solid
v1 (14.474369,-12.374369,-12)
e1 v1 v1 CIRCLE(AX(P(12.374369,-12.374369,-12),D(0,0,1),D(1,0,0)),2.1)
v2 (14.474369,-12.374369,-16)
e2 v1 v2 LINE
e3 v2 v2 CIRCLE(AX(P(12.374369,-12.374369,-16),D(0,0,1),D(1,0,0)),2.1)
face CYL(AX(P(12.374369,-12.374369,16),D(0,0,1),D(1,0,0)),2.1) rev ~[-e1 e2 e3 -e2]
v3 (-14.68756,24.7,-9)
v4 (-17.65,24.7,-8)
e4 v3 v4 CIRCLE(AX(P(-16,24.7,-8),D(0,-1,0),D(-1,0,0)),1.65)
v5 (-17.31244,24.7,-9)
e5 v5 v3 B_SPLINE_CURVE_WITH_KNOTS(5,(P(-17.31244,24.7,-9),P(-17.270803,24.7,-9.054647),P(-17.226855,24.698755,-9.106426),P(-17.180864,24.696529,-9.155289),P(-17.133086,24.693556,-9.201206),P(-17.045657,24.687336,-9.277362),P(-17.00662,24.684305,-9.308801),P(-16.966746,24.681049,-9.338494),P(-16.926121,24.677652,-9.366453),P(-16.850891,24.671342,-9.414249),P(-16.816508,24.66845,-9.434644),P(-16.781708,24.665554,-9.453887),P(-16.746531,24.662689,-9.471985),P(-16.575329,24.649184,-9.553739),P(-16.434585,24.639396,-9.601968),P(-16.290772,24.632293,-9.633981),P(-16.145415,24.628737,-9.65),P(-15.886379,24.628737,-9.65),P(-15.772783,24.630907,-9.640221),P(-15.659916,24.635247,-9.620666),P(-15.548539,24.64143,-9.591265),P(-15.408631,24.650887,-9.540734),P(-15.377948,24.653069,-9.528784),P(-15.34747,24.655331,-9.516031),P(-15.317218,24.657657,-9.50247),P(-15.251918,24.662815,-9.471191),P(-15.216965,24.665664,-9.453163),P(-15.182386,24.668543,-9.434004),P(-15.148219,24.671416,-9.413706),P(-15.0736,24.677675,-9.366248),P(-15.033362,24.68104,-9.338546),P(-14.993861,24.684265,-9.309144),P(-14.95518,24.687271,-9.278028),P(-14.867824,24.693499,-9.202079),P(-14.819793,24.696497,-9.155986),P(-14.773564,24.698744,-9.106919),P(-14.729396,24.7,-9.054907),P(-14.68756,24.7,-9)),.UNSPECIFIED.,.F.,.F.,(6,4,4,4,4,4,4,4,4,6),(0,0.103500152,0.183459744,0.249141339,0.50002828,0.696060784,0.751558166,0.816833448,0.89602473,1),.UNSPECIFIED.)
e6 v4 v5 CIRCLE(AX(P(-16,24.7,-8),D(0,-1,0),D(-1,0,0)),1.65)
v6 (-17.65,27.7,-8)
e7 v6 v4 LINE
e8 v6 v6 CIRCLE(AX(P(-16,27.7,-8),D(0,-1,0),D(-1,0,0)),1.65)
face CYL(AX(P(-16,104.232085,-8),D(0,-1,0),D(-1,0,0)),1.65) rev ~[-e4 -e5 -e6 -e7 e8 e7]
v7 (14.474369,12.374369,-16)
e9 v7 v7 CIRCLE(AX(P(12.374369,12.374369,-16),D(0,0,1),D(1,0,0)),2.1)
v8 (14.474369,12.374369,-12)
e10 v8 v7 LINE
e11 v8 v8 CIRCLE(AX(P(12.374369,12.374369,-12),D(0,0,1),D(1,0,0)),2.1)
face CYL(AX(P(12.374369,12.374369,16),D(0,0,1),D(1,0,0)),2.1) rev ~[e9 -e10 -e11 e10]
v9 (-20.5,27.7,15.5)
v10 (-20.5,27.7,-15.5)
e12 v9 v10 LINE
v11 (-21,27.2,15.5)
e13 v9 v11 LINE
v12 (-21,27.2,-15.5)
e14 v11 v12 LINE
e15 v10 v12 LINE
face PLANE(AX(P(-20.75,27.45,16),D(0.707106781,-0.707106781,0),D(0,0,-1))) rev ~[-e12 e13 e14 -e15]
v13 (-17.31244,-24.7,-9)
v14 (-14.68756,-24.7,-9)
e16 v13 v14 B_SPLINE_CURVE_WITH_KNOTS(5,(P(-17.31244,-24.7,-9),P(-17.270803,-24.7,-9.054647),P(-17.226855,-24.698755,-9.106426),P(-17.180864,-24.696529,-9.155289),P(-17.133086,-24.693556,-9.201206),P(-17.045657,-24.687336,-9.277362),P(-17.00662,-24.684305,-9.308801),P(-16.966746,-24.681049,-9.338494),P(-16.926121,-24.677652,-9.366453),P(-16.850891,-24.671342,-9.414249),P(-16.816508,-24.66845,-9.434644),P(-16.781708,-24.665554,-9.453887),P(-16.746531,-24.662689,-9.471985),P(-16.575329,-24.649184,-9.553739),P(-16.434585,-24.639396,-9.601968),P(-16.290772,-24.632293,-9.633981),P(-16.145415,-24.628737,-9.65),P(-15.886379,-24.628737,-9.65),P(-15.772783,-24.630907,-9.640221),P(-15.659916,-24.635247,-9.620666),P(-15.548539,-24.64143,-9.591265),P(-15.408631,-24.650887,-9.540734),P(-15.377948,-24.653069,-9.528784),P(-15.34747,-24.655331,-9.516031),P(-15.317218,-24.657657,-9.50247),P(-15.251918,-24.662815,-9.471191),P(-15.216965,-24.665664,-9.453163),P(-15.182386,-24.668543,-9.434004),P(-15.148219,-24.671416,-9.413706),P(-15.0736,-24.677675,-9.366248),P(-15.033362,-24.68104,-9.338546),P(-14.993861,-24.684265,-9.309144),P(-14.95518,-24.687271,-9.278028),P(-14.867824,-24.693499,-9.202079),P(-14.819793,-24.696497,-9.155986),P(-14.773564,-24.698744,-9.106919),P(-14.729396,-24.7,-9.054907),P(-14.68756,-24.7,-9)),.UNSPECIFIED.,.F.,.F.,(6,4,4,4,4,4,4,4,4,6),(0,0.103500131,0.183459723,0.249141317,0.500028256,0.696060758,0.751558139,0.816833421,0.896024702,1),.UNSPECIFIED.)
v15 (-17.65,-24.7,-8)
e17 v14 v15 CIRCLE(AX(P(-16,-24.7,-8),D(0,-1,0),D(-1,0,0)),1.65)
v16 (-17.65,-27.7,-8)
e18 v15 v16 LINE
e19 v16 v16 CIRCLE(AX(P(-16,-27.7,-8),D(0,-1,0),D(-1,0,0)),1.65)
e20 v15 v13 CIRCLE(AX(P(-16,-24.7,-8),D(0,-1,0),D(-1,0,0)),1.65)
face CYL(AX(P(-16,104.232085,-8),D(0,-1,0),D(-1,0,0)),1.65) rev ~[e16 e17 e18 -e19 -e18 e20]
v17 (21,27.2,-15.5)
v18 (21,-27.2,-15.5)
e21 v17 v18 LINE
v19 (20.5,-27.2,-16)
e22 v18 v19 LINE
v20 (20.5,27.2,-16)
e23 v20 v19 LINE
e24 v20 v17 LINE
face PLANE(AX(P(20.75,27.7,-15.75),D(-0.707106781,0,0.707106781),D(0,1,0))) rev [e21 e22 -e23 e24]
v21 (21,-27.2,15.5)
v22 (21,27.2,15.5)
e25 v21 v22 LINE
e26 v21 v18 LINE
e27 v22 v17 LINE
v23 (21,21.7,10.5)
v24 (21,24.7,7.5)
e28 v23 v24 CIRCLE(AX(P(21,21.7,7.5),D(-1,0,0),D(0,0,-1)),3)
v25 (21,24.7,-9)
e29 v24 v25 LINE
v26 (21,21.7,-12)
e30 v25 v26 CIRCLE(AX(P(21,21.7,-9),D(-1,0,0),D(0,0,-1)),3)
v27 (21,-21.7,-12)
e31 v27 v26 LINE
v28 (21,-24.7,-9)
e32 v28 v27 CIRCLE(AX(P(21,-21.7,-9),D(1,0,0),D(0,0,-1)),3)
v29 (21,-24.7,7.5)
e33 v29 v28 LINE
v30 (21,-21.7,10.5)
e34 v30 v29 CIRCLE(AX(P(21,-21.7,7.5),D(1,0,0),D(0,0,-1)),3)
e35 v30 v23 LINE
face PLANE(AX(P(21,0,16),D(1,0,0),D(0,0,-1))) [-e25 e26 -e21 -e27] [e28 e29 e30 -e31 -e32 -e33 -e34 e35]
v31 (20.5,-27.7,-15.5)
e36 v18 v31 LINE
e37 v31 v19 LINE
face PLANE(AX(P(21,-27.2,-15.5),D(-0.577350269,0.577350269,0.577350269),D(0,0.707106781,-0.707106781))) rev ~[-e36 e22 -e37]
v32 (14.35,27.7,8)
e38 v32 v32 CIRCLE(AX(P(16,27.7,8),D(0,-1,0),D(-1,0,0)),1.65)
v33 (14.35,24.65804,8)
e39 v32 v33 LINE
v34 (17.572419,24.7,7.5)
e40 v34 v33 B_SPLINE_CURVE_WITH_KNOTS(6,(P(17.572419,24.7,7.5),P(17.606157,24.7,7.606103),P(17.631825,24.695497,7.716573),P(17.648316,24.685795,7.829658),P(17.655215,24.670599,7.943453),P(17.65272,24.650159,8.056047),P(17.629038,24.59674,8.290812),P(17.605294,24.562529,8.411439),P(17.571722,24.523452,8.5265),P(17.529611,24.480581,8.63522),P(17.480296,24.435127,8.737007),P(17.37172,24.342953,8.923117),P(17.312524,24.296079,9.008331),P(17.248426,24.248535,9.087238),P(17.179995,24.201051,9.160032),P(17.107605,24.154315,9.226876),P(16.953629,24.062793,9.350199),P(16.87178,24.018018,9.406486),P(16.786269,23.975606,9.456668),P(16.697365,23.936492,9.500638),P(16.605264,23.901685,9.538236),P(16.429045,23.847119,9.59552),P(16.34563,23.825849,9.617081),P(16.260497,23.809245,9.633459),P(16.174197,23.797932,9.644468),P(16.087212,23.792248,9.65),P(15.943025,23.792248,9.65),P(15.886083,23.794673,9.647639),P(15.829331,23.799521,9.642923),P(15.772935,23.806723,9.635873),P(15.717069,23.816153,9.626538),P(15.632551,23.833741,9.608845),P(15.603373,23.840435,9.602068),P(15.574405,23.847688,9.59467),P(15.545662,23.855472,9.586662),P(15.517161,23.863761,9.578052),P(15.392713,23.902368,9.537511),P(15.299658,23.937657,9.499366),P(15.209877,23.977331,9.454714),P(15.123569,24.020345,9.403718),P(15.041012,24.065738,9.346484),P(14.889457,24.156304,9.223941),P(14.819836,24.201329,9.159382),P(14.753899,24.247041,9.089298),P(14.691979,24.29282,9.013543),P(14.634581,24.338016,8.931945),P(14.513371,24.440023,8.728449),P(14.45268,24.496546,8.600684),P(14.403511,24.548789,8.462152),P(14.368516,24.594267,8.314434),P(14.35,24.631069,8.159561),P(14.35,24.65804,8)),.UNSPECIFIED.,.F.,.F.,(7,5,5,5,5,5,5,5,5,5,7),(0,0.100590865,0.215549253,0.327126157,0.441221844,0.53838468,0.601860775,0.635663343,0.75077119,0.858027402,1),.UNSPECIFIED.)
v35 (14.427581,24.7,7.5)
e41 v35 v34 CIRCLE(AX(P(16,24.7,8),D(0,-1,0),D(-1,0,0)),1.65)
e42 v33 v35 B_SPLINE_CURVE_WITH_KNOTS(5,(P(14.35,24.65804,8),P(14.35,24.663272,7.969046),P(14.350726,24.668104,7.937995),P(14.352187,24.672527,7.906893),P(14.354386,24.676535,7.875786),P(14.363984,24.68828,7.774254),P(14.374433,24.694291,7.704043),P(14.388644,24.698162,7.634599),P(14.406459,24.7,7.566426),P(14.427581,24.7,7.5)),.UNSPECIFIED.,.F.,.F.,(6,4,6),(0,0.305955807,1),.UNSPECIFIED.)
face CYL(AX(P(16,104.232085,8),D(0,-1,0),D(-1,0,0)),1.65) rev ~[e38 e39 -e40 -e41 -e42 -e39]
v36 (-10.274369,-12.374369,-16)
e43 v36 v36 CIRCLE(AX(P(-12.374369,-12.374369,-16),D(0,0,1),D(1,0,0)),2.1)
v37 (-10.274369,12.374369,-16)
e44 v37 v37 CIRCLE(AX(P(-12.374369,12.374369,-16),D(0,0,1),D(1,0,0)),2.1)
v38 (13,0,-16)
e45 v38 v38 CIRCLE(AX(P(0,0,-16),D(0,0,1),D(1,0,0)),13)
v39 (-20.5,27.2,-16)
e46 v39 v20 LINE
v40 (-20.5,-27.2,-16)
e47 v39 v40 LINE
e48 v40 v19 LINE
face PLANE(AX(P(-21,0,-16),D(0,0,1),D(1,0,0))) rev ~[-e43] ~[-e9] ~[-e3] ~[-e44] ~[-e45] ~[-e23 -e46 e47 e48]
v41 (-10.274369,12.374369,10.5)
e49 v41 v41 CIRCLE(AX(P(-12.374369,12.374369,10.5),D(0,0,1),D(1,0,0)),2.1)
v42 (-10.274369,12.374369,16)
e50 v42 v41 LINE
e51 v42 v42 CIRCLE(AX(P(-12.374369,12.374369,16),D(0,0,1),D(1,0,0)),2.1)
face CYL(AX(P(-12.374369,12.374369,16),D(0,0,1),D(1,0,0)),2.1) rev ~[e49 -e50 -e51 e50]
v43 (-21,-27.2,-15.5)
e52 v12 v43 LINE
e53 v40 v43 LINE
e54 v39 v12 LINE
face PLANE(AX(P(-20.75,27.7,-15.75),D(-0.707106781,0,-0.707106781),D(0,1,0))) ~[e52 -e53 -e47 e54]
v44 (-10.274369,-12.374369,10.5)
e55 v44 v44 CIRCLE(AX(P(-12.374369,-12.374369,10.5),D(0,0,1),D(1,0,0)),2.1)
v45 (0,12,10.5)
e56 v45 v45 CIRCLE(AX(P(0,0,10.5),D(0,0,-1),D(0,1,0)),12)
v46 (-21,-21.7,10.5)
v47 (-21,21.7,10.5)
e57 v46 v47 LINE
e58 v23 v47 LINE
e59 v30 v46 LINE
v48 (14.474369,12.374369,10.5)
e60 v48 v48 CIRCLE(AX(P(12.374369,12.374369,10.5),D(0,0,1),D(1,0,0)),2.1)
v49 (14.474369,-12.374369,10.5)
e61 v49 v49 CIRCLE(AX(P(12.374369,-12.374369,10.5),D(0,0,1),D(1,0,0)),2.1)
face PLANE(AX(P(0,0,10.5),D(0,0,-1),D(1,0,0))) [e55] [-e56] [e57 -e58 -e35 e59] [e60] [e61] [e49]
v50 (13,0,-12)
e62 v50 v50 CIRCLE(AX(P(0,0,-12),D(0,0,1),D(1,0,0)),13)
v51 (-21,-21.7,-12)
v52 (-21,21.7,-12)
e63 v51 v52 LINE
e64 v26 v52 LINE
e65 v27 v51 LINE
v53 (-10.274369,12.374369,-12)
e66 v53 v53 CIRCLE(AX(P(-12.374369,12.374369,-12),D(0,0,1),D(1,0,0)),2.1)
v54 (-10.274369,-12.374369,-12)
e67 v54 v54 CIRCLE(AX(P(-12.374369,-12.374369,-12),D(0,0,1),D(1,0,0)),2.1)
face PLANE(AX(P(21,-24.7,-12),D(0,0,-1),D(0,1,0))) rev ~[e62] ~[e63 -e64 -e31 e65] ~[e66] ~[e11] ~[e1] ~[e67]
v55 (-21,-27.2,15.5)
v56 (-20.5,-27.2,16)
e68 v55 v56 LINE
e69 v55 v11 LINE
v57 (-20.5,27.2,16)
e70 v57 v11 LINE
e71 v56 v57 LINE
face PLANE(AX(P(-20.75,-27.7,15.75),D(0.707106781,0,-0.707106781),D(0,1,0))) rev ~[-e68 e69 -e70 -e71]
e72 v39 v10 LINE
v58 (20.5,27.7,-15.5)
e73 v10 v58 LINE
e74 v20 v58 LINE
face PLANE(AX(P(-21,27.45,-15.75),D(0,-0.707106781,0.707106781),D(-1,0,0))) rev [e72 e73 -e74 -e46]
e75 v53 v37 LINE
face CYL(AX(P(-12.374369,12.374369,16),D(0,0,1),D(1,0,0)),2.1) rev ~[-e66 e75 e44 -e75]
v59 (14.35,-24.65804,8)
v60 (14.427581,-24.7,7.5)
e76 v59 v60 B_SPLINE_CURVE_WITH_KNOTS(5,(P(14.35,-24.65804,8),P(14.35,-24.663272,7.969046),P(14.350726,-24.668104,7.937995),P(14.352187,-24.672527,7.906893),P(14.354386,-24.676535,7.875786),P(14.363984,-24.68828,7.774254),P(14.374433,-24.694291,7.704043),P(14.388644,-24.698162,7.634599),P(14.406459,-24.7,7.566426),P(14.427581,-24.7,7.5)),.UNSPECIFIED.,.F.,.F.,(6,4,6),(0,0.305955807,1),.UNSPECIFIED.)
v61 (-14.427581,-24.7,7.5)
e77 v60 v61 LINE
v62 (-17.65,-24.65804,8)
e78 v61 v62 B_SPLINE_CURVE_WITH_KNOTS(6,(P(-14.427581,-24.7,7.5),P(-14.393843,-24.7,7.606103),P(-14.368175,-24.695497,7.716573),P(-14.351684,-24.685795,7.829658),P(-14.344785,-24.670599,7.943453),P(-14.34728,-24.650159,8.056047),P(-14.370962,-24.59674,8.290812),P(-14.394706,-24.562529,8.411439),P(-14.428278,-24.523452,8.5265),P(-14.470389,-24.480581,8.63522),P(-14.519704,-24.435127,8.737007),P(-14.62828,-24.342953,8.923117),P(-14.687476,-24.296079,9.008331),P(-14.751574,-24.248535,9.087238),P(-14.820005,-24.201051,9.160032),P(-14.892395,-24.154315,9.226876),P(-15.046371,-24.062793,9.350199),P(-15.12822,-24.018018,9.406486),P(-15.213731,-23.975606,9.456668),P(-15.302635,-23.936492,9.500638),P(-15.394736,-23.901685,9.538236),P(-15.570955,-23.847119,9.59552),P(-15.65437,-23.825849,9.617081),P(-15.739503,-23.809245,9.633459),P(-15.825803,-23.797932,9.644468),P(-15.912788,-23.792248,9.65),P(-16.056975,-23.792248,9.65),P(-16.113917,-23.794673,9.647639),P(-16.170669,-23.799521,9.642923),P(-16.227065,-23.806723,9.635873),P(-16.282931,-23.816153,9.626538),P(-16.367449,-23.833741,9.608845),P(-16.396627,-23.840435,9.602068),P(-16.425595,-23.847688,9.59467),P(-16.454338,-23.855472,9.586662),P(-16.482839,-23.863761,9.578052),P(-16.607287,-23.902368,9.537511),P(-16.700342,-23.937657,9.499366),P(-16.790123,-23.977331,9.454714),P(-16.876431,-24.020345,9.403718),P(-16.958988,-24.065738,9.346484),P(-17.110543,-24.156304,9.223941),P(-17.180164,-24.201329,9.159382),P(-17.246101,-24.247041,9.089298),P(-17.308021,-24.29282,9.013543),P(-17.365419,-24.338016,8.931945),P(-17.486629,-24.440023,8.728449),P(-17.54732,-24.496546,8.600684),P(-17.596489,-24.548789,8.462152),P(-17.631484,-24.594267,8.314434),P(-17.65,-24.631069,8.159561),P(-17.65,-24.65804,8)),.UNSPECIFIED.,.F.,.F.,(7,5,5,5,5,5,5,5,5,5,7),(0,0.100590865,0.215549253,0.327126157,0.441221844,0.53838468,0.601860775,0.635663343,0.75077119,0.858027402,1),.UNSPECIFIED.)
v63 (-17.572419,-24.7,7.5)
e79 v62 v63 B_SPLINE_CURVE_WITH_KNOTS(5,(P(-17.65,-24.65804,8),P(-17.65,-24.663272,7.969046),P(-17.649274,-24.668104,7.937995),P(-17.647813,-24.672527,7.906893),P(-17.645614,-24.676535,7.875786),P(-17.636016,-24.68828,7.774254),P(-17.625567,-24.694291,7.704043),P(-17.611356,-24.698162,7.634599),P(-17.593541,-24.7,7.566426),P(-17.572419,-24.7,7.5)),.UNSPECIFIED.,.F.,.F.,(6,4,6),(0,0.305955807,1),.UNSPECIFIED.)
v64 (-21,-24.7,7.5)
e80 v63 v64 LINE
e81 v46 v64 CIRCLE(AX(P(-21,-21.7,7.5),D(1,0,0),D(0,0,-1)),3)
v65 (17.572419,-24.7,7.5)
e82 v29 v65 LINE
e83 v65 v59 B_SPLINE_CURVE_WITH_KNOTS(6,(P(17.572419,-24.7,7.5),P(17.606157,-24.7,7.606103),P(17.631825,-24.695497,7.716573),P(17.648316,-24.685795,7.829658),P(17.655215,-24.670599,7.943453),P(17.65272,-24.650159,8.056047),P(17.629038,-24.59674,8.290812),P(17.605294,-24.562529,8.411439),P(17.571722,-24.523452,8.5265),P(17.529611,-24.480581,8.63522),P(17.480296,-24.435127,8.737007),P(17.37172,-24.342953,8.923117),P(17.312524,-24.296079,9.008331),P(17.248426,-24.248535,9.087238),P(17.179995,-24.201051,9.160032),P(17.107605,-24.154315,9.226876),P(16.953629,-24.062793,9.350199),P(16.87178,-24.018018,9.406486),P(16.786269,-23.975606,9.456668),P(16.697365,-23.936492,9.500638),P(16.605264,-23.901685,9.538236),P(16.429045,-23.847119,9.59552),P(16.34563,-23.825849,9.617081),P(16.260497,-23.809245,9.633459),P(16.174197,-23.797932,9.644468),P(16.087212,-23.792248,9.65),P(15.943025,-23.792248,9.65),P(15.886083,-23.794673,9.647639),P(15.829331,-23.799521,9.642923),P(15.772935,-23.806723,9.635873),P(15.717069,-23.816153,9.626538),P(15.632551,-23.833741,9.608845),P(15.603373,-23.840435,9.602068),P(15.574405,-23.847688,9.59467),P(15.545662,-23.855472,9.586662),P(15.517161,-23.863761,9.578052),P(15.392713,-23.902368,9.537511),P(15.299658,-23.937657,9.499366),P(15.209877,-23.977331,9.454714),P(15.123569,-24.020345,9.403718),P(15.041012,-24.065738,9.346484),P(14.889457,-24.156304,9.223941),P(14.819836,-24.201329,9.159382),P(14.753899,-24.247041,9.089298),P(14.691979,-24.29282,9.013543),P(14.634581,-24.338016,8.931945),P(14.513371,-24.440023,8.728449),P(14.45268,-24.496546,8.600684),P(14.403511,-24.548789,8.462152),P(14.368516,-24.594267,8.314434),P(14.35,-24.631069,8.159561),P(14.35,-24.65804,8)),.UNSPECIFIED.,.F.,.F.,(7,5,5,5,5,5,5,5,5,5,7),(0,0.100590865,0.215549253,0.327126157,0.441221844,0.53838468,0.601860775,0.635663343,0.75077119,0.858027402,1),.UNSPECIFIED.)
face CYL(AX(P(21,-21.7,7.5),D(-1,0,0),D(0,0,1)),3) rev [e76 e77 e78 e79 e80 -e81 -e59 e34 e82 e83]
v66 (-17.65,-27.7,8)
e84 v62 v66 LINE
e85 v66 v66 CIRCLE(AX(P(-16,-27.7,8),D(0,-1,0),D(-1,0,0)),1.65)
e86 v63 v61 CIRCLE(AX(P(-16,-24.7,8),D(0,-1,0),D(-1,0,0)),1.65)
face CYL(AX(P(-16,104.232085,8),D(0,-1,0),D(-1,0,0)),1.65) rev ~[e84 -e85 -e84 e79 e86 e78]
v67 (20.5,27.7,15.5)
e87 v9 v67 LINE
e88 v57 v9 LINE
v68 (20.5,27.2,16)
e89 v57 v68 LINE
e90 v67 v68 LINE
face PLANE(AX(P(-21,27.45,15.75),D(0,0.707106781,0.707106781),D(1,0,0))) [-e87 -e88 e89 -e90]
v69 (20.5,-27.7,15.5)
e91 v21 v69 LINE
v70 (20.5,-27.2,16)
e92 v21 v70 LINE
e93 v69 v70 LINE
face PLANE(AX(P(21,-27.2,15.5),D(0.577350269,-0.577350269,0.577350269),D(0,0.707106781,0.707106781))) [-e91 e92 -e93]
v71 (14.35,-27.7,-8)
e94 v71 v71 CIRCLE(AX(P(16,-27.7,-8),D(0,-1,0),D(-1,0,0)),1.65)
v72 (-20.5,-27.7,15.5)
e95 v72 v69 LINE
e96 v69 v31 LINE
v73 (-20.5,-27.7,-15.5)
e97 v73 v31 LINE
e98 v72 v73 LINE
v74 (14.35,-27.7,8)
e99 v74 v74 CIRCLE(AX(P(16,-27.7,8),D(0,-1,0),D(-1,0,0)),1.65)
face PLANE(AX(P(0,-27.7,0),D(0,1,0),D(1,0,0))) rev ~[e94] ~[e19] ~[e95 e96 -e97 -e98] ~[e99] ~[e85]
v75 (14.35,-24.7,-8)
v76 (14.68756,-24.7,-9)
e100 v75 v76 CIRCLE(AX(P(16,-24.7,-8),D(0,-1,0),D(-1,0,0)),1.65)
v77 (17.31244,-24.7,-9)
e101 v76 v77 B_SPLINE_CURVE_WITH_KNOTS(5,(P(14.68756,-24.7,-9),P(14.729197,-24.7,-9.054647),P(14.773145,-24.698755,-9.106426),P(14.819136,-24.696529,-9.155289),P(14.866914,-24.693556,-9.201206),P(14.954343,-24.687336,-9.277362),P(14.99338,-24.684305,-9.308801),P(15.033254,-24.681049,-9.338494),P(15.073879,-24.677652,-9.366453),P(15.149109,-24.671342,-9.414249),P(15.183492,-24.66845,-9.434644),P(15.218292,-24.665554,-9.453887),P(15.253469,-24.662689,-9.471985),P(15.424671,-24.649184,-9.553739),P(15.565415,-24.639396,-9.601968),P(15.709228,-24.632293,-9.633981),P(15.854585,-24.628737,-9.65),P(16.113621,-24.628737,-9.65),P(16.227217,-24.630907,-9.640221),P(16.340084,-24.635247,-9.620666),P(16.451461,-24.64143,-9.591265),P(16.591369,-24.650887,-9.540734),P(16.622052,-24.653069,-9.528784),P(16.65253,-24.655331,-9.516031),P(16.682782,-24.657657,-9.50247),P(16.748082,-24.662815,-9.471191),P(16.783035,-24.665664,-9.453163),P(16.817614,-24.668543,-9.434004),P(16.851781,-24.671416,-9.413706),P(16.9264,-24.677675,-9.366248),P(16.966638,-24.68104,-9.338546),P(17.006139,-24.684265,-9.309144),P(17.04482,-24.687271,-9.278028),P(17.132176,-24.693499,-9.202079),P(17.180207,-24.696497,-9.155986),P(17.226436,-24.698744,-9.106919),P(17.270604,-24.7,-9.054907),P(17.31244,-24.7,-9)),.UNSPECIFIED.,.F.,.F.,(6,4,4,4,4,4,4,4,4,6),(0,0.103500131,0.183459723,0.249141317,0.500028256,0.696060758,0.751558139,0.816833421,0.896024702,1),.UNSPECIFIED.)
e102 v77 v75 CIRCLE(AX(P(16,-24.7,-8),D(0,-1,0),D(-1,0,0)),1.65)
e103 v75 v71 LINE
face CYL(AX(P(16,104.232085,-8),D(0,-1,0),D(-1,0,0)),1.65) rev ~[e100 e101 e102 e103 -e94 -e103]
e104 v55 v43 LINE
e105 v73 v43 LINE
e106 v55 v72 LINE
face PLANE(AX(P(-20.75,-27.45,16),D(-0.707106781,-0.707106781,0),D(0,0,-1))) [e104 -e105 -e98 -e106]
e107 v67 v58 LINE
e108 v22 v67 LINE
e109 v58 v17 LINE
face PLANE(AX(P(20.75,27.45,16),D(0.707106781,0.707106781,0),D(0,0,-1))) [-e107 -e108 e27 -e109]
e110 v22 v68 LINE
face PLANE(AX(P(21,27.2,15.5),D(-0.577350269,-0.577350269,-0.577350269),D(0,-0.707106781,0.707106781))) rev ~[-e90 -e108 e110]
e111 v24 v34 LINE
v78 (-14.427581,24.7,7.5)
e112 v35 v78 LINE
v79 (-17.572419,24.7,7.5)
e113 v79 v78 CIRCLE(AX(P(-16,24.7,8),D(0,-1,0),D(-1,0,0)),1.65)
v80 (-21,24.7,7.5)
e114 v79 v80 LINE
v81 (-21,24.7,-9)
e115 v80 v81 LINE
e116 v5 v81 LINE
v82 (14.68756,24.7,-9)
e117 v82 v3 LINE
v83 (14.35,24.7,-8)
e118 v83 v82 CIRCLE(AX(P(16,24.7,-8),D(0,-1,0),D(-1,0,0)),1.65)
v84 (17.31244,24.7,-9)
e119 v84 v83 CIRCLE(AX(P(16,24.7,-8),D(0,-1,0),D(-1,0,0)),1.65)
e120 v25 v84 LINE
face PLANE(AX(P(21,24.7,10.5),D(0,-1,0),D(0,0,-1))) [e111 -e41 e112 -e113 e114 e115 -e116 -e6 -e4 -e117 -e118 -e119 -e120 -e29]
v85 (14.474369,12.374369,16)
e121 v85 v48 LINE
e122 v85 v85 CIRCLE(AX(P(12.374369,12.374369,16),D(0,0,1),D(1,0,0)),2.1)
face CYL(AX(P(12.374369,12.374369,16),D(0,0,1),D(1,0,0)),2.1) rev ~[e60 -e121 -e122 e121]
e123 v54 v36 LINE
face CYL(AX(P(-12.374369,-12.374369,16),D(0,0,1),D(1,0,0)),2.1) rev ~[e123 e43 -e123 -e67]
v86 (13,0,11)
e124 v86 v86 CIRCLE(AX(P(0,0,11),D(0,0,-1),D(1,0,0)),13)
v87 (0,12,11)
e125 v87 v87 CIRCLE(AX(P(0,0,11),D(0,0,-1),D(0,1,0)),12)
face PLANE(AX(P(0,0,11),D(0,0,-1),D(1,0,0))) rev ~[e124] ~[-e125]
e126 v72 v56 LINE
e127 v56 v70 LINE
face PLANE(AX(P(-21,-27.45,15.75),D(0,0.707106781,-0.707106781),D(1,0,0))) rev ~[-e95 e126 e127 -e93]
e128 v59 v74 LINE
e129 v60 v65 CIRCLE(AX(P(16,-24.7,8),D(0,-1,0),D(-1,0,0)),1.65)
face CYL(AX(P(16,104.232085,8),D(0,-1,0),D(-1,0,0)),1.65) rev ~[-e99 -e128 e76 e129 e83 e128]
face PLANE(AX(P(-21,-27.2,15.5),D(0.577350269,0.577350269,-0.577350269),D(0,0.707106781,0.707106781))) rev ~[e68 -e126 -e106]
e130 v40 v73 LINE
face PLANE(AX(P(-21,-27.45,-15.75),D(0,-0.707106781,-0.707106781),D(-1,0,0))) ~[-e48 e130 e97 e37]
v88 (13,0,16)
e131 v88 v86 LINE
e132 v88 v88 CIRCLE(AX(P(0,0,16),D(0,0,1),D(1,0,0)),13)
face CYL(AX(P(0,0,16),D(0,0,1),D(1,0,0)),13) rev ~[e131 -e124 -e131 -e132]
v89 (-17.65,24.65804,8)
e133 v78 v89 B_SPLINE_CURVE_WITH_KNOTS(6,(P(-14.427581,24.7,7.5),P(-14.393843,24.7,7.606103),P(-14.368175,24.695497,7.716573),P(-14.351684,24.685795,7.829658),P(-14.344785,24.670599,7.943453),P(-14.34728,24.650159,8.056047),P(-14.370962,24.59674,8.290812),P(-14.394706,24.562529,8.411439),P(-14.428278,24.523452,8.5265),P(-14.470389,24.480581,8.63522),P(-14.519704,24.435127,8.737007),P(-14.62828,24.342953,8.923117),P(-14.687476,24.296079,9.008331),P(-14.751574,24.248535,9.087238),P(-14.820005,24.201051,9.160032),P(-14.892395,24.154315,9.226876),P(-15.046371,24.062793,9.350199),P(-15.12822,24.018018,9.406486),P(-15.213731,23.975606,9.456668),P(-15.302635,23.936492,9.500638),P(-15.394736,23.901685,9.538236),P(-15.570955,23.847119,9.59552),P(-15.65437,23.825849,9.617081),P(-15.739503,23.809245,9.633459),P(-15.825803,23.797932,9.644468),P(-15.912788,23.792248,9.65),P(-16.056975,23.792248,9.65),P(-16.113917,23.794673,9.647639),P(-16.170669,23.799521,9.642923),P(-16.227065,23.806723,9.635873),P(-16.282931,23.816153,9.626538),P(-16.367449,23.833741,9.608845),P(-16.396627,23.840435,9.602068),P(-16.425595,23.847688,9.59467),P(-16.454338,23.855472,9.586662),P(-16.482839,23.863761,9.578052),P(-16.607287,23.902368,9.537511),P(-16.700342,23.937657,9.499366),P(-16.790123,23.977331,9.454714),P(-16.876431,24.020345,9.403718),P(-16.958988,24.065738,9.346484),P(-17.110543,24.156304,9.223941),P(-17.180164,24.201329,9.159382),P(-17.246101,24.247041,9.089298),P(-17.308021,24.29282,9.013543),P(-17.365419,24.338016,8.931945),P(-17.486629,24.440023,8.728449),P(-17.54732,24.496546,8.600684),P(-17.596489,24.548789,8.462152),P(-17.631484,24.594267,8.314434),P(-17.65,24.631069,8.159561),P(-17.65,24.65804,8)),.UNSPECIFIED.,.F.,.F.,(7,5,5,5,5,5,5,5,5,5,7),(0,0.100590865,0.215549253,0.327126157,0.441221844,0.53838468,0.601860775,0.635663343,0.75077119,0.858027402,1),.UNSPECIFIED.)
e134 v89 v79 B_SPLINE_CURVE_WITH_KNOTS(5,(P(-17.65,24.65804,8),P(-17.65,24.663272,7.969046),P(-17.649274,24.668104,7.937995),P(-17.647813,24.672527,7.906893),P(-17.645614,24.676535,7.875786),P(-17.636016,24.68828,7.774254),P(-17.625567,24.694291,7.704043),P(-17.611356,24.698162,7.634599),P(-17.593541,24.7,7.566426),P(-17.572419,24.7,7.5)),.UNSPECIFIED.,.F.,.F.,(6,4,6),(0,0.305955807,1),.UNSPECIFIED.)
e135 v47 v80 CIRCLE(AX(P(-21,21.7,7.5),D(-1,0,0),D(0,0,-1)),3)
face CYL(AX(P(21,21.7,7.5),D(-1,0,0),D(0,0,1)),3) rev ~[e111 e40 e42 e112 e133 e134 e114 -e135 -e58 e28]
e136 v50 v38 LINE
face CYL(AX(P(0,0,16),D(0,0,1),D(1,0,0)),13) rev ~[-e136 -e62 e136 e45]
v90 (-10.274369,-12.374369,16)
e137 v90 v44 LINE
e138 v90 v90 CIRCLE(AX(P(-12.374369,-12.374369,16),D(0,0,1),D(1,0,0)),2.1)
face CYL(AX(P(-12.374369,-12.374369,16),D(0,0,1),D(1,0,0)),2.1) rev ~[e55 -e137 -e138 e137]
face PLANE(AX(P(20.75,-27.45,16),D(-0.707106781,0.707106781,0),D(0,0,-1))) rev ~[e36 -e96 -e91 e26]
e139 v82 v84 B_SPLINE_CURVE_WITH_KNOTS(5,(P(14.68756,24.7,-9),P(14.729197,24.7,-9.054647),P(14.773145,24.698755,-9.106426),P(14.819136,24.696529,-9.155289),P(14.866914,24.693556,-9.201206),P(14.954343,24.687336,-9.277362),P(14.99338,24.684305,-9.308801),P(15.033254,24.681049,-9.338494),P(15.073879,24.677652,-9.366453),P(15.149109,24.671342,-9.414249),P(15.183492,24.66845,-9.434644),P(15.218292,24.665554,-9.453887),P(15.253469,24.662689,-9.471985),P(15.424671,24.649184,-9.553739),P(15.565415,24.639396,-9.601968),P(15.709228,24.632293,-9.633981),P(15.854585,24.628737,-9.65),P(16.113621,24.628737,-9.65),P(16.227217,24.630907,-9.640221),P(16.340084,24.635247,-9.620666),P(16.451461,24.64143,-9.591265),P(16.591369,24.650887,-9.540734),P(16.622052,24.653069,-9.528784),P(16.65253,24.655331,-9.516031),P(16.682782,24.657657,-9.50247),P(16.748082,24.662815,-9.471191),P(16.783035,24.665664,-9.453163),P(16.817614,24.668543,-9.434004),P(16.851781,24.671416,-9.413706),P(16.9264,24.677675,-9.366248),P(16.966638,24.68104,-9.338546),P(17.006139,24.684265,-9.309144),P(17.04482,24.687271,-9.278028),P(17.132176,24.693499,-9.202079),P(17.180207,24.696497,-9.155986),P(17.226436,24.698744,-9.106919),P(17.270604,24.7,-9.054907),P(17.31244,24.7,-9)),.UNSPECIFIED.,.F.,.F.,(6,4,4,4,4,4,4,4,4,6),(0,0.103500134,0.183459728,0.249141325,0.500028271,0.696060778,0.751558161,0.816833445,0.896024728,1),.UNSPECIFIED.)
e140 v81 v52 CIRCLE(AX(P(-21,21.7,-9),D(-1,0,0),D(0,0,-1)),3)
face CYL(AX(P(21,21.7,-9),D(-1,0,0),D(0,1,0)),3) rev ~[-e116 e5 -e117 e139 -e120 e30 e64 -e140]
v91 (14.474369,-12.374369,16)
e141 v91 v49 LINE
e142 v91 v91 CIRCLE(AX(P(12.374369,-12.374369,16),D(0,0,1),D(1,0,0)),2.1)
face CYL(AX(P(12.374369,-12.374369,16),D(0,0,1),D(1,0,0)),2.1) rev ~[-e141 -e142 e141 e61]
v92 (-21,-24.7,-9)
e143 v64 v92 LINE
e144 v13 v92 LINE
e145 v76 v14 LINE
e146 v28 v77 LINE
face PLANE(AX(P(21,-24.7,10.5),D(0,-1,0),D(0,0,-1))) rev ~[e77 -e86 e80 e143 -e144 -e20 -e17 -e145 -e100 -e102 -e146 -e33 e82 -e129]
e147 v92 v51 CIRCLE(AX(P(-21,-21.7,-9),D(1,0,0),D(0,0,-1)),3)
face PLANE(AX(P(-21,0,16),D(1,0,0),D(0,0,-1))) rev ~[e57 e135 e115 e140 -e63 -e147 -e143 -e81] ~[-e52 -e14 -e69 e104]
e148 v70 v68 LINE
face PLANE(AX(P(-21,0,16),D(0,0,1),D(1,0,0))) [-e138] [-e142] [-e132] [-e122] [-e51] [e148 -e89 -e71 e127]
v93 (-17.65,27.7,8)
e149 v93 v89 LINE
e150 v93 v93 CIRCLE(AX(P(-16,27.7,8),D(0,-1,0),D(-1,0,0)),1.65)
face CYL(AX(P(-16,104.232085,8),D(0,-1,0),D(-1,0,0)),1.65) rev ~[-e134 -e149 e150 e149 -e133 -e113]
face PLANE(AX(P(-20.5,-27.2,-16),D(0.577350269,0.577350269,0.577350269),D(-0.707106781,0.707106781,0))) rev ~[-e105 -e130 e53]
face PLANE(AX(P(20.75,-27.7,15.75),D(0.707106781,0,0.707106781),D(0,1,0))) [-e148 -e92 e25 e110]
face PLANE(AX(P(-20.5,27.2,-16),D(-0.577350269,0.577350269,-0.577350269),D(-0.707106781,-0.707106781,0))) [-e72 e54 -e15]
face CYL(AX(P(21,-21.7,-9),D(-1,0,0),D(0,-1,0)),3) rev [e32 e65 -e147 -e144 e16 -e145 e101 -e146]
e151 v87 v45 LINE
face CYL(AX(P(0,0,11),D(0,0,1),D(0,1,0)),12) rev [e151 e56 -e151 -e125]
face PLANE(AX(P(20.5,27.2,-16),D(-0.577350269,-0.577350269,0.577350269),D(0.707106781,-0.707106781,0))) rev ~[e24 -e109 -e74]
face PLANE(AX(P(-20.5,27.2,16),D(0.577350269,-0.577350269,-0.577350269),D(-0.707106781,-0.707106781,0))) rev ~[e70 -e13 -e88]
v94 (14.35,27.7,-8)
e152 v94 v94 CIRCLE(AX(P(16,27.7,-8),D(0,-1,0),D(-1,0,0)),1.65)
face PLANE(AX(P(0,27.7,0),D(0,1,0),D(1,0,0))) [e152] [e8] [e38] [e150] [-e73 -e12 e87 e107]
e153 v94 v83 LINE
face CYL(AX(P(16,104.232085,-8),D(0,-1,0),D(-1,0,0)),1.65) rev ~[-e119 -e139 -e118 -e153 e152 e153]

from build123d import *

# Parameters (mm, degrees)
SKETCH_1_W          = 42
SKETCH_1_H          = 32
EXTRUDE_1_DEPTH     = 27.7
SKETCH_2_R          = 13
CUT_EXTRUDE_1_DEPTH = 48.247116314
SKETCH_3_W          = 22.5
SKETCH_3_H          = 49.4
CUT_EXTRUDE_2_DEPTH = 53.79479141
SKETCH_6_R          = 2.1
CUT_EXTRUDE_4_DEPTH = 50
EXTRUDE_START       = -0.5
SKETCH_7_R          = 13
SKETCH_7_R_2        = 12
EXTRUDE_2_DEPTH     = 0.5
FILLET_2_R          = 3
SKETCH_4_R          = 1.25
CUT_EXTRUDE_3_DEPTH = 7
CHAMFER_1_SIZE      = 0.5
HOLE_WIZARD_M4_1_D  = 3.3


with BuildPart() as part:
    # 草图1 → 凸台-拉伸1 (new, symmetric)
    with BuildSketch(Plane(origin=(0, 0, 0), x_dir=(1, 0, 0), z_dir=(0, 1, 0))):
        Rectangle(SKETCH_1_W, SKETCH_1_H)
    extrude(amount=EXTRUDE_1_DEPTH, both=True)

    # 草图2 → 切除-拉伸1 (cut, through all)
    with BuildSketch(Plane.XY.offset(16)):
        Circle(SKETCH_2_R)
    extrude(amount=-CUT_EXTRUDE_1_DEPTH, mode=Mode.SUBTRACT)

    # 草图3 → 切除-拉伸2 (cut, through all)
    with BuildSketch(Plane(origin=(21, 0, 0), x_dir=(0, 0, -1), z_dir=(1, 0, 0))):
        with Locations((0.75, 0)):
            Rectangle(SKETCH_3_W, SKETCH_3_H)
    extrude(amount=-CUT_EXTRUDE_2_DEPTH, mode=Mode.SUBTRACT)

    # 草图6 → 切除-拉伸4 (cut)
    with BuildSketch(Plane.XY.offset(16)):
        with Locations((12.374368671, 12.374368671)):
            Circle(SKETCH_6_R)
        with Locations((-12.374368671, 12.374368671)):
            Circle(SKETCH_6_R)
        with Locations((12.374368671, -12.374368671)):
            Circle(SKETCH_6_R)
        with Locations((-12.374368671, -12.374368671)):
            Circle(SKETCH_6_R)
    extrude(amount=-CUT_EXTRUDE_4_DEPTH, mode=Mode.SUBTRACT)

    # 草图7 → 凸台-拉伸2 (add)
    with BuildSketch(Plane(origin=(0, 0, 10.5), x_dir=(-1, 0, 0), z_dir=(0, 0, -1)).offset(EXTRUDE_START)):
        with Locations(Location((0, 0, 0), (0, 0, 180))):
            Circle(SKETCH_7_R)
        with Locations(Location((0, 0, 0), (0, 0, 90))):
            Circle(SKETCH_7_R_2, mode=Mode.SUBTRACT)
    extrude(amount=EXTRUDE_2_DEPTH)

    # 圆角2
    fillet_2_edges = [part.edges().sort_by_distance(p)[0] for p in [
        (0, -24.7, 10.5),
        (0, 24.7, -12),
        (0, 24.7, 10.5),
        (0, -24.7, -12),
    ]]
    fillet(fillet_2_edges, radius=FILLET_2_R)

    # 草图4 → 切除-拉伸3 (cut)
    with BuildSketch(Plane(origin=(0, 27.7, 0), x_dir=(1, 0, 0), z_dir=(0, 1, 0))):
        with Locations(Location((-16, 8, 0), (0, 0, 270))):
            Circle(SKETCH_4_R)
        with Locations(Location((16, 8, 0), (0, 0, 270))):
            Circle(SKETCH_4_R)
        with Locations(Location((-16, -8, 0), (0, 0, 270))):
            Circle(SKETCH_4_R)
        with Locations(Location((16, -8, 0), (0, 0, 270))):
            Circle(SKETCH_4_R)
    cut_extrude_3 = extrude(amount=-CUT_EXTRUDE_3_DEPTH, mode=Mode.SUBTRACT)

    # 镜向1: 切除-拉伸3 across plane
    add(cut_extrude_3.mirror(Plane.ZX), mode=Mode.SUBTRACT)

    # 倒角1
    chamfer_1_edges = [part.edges().sort_by_distance(p)[0] for p in [
        (-21, 27.7, 0),
        (0, 27.7, 16),
        (21, 27.7, 0),
        (0, -27.7, 16),
        (-21, -27.7, 0),
        (0, -27.7, -16),
        (21, -27.7, 0),
        (0, 27.7, -16),
        (21, 0, 16),
        (-21, 0, 16),
        (-21, 0, -16),
        (21, 0, -16),
    ]]
    chamfer(chamfer_1_edges, length=CHAMFER_1_SIZE)

    # M4 螺纹孔1 (through all)
    with Locations(Plane(origin=(0, 27.7, 0), x_dir=(1, 0, 0), z_dir=(0, 1, 0))):
        with Locations((16, -8), (16, 8), (-16, 8), (-16, -8)):
            Hole(HOLE_WIZARD_M4_1_D / 2)


solid = part.part
